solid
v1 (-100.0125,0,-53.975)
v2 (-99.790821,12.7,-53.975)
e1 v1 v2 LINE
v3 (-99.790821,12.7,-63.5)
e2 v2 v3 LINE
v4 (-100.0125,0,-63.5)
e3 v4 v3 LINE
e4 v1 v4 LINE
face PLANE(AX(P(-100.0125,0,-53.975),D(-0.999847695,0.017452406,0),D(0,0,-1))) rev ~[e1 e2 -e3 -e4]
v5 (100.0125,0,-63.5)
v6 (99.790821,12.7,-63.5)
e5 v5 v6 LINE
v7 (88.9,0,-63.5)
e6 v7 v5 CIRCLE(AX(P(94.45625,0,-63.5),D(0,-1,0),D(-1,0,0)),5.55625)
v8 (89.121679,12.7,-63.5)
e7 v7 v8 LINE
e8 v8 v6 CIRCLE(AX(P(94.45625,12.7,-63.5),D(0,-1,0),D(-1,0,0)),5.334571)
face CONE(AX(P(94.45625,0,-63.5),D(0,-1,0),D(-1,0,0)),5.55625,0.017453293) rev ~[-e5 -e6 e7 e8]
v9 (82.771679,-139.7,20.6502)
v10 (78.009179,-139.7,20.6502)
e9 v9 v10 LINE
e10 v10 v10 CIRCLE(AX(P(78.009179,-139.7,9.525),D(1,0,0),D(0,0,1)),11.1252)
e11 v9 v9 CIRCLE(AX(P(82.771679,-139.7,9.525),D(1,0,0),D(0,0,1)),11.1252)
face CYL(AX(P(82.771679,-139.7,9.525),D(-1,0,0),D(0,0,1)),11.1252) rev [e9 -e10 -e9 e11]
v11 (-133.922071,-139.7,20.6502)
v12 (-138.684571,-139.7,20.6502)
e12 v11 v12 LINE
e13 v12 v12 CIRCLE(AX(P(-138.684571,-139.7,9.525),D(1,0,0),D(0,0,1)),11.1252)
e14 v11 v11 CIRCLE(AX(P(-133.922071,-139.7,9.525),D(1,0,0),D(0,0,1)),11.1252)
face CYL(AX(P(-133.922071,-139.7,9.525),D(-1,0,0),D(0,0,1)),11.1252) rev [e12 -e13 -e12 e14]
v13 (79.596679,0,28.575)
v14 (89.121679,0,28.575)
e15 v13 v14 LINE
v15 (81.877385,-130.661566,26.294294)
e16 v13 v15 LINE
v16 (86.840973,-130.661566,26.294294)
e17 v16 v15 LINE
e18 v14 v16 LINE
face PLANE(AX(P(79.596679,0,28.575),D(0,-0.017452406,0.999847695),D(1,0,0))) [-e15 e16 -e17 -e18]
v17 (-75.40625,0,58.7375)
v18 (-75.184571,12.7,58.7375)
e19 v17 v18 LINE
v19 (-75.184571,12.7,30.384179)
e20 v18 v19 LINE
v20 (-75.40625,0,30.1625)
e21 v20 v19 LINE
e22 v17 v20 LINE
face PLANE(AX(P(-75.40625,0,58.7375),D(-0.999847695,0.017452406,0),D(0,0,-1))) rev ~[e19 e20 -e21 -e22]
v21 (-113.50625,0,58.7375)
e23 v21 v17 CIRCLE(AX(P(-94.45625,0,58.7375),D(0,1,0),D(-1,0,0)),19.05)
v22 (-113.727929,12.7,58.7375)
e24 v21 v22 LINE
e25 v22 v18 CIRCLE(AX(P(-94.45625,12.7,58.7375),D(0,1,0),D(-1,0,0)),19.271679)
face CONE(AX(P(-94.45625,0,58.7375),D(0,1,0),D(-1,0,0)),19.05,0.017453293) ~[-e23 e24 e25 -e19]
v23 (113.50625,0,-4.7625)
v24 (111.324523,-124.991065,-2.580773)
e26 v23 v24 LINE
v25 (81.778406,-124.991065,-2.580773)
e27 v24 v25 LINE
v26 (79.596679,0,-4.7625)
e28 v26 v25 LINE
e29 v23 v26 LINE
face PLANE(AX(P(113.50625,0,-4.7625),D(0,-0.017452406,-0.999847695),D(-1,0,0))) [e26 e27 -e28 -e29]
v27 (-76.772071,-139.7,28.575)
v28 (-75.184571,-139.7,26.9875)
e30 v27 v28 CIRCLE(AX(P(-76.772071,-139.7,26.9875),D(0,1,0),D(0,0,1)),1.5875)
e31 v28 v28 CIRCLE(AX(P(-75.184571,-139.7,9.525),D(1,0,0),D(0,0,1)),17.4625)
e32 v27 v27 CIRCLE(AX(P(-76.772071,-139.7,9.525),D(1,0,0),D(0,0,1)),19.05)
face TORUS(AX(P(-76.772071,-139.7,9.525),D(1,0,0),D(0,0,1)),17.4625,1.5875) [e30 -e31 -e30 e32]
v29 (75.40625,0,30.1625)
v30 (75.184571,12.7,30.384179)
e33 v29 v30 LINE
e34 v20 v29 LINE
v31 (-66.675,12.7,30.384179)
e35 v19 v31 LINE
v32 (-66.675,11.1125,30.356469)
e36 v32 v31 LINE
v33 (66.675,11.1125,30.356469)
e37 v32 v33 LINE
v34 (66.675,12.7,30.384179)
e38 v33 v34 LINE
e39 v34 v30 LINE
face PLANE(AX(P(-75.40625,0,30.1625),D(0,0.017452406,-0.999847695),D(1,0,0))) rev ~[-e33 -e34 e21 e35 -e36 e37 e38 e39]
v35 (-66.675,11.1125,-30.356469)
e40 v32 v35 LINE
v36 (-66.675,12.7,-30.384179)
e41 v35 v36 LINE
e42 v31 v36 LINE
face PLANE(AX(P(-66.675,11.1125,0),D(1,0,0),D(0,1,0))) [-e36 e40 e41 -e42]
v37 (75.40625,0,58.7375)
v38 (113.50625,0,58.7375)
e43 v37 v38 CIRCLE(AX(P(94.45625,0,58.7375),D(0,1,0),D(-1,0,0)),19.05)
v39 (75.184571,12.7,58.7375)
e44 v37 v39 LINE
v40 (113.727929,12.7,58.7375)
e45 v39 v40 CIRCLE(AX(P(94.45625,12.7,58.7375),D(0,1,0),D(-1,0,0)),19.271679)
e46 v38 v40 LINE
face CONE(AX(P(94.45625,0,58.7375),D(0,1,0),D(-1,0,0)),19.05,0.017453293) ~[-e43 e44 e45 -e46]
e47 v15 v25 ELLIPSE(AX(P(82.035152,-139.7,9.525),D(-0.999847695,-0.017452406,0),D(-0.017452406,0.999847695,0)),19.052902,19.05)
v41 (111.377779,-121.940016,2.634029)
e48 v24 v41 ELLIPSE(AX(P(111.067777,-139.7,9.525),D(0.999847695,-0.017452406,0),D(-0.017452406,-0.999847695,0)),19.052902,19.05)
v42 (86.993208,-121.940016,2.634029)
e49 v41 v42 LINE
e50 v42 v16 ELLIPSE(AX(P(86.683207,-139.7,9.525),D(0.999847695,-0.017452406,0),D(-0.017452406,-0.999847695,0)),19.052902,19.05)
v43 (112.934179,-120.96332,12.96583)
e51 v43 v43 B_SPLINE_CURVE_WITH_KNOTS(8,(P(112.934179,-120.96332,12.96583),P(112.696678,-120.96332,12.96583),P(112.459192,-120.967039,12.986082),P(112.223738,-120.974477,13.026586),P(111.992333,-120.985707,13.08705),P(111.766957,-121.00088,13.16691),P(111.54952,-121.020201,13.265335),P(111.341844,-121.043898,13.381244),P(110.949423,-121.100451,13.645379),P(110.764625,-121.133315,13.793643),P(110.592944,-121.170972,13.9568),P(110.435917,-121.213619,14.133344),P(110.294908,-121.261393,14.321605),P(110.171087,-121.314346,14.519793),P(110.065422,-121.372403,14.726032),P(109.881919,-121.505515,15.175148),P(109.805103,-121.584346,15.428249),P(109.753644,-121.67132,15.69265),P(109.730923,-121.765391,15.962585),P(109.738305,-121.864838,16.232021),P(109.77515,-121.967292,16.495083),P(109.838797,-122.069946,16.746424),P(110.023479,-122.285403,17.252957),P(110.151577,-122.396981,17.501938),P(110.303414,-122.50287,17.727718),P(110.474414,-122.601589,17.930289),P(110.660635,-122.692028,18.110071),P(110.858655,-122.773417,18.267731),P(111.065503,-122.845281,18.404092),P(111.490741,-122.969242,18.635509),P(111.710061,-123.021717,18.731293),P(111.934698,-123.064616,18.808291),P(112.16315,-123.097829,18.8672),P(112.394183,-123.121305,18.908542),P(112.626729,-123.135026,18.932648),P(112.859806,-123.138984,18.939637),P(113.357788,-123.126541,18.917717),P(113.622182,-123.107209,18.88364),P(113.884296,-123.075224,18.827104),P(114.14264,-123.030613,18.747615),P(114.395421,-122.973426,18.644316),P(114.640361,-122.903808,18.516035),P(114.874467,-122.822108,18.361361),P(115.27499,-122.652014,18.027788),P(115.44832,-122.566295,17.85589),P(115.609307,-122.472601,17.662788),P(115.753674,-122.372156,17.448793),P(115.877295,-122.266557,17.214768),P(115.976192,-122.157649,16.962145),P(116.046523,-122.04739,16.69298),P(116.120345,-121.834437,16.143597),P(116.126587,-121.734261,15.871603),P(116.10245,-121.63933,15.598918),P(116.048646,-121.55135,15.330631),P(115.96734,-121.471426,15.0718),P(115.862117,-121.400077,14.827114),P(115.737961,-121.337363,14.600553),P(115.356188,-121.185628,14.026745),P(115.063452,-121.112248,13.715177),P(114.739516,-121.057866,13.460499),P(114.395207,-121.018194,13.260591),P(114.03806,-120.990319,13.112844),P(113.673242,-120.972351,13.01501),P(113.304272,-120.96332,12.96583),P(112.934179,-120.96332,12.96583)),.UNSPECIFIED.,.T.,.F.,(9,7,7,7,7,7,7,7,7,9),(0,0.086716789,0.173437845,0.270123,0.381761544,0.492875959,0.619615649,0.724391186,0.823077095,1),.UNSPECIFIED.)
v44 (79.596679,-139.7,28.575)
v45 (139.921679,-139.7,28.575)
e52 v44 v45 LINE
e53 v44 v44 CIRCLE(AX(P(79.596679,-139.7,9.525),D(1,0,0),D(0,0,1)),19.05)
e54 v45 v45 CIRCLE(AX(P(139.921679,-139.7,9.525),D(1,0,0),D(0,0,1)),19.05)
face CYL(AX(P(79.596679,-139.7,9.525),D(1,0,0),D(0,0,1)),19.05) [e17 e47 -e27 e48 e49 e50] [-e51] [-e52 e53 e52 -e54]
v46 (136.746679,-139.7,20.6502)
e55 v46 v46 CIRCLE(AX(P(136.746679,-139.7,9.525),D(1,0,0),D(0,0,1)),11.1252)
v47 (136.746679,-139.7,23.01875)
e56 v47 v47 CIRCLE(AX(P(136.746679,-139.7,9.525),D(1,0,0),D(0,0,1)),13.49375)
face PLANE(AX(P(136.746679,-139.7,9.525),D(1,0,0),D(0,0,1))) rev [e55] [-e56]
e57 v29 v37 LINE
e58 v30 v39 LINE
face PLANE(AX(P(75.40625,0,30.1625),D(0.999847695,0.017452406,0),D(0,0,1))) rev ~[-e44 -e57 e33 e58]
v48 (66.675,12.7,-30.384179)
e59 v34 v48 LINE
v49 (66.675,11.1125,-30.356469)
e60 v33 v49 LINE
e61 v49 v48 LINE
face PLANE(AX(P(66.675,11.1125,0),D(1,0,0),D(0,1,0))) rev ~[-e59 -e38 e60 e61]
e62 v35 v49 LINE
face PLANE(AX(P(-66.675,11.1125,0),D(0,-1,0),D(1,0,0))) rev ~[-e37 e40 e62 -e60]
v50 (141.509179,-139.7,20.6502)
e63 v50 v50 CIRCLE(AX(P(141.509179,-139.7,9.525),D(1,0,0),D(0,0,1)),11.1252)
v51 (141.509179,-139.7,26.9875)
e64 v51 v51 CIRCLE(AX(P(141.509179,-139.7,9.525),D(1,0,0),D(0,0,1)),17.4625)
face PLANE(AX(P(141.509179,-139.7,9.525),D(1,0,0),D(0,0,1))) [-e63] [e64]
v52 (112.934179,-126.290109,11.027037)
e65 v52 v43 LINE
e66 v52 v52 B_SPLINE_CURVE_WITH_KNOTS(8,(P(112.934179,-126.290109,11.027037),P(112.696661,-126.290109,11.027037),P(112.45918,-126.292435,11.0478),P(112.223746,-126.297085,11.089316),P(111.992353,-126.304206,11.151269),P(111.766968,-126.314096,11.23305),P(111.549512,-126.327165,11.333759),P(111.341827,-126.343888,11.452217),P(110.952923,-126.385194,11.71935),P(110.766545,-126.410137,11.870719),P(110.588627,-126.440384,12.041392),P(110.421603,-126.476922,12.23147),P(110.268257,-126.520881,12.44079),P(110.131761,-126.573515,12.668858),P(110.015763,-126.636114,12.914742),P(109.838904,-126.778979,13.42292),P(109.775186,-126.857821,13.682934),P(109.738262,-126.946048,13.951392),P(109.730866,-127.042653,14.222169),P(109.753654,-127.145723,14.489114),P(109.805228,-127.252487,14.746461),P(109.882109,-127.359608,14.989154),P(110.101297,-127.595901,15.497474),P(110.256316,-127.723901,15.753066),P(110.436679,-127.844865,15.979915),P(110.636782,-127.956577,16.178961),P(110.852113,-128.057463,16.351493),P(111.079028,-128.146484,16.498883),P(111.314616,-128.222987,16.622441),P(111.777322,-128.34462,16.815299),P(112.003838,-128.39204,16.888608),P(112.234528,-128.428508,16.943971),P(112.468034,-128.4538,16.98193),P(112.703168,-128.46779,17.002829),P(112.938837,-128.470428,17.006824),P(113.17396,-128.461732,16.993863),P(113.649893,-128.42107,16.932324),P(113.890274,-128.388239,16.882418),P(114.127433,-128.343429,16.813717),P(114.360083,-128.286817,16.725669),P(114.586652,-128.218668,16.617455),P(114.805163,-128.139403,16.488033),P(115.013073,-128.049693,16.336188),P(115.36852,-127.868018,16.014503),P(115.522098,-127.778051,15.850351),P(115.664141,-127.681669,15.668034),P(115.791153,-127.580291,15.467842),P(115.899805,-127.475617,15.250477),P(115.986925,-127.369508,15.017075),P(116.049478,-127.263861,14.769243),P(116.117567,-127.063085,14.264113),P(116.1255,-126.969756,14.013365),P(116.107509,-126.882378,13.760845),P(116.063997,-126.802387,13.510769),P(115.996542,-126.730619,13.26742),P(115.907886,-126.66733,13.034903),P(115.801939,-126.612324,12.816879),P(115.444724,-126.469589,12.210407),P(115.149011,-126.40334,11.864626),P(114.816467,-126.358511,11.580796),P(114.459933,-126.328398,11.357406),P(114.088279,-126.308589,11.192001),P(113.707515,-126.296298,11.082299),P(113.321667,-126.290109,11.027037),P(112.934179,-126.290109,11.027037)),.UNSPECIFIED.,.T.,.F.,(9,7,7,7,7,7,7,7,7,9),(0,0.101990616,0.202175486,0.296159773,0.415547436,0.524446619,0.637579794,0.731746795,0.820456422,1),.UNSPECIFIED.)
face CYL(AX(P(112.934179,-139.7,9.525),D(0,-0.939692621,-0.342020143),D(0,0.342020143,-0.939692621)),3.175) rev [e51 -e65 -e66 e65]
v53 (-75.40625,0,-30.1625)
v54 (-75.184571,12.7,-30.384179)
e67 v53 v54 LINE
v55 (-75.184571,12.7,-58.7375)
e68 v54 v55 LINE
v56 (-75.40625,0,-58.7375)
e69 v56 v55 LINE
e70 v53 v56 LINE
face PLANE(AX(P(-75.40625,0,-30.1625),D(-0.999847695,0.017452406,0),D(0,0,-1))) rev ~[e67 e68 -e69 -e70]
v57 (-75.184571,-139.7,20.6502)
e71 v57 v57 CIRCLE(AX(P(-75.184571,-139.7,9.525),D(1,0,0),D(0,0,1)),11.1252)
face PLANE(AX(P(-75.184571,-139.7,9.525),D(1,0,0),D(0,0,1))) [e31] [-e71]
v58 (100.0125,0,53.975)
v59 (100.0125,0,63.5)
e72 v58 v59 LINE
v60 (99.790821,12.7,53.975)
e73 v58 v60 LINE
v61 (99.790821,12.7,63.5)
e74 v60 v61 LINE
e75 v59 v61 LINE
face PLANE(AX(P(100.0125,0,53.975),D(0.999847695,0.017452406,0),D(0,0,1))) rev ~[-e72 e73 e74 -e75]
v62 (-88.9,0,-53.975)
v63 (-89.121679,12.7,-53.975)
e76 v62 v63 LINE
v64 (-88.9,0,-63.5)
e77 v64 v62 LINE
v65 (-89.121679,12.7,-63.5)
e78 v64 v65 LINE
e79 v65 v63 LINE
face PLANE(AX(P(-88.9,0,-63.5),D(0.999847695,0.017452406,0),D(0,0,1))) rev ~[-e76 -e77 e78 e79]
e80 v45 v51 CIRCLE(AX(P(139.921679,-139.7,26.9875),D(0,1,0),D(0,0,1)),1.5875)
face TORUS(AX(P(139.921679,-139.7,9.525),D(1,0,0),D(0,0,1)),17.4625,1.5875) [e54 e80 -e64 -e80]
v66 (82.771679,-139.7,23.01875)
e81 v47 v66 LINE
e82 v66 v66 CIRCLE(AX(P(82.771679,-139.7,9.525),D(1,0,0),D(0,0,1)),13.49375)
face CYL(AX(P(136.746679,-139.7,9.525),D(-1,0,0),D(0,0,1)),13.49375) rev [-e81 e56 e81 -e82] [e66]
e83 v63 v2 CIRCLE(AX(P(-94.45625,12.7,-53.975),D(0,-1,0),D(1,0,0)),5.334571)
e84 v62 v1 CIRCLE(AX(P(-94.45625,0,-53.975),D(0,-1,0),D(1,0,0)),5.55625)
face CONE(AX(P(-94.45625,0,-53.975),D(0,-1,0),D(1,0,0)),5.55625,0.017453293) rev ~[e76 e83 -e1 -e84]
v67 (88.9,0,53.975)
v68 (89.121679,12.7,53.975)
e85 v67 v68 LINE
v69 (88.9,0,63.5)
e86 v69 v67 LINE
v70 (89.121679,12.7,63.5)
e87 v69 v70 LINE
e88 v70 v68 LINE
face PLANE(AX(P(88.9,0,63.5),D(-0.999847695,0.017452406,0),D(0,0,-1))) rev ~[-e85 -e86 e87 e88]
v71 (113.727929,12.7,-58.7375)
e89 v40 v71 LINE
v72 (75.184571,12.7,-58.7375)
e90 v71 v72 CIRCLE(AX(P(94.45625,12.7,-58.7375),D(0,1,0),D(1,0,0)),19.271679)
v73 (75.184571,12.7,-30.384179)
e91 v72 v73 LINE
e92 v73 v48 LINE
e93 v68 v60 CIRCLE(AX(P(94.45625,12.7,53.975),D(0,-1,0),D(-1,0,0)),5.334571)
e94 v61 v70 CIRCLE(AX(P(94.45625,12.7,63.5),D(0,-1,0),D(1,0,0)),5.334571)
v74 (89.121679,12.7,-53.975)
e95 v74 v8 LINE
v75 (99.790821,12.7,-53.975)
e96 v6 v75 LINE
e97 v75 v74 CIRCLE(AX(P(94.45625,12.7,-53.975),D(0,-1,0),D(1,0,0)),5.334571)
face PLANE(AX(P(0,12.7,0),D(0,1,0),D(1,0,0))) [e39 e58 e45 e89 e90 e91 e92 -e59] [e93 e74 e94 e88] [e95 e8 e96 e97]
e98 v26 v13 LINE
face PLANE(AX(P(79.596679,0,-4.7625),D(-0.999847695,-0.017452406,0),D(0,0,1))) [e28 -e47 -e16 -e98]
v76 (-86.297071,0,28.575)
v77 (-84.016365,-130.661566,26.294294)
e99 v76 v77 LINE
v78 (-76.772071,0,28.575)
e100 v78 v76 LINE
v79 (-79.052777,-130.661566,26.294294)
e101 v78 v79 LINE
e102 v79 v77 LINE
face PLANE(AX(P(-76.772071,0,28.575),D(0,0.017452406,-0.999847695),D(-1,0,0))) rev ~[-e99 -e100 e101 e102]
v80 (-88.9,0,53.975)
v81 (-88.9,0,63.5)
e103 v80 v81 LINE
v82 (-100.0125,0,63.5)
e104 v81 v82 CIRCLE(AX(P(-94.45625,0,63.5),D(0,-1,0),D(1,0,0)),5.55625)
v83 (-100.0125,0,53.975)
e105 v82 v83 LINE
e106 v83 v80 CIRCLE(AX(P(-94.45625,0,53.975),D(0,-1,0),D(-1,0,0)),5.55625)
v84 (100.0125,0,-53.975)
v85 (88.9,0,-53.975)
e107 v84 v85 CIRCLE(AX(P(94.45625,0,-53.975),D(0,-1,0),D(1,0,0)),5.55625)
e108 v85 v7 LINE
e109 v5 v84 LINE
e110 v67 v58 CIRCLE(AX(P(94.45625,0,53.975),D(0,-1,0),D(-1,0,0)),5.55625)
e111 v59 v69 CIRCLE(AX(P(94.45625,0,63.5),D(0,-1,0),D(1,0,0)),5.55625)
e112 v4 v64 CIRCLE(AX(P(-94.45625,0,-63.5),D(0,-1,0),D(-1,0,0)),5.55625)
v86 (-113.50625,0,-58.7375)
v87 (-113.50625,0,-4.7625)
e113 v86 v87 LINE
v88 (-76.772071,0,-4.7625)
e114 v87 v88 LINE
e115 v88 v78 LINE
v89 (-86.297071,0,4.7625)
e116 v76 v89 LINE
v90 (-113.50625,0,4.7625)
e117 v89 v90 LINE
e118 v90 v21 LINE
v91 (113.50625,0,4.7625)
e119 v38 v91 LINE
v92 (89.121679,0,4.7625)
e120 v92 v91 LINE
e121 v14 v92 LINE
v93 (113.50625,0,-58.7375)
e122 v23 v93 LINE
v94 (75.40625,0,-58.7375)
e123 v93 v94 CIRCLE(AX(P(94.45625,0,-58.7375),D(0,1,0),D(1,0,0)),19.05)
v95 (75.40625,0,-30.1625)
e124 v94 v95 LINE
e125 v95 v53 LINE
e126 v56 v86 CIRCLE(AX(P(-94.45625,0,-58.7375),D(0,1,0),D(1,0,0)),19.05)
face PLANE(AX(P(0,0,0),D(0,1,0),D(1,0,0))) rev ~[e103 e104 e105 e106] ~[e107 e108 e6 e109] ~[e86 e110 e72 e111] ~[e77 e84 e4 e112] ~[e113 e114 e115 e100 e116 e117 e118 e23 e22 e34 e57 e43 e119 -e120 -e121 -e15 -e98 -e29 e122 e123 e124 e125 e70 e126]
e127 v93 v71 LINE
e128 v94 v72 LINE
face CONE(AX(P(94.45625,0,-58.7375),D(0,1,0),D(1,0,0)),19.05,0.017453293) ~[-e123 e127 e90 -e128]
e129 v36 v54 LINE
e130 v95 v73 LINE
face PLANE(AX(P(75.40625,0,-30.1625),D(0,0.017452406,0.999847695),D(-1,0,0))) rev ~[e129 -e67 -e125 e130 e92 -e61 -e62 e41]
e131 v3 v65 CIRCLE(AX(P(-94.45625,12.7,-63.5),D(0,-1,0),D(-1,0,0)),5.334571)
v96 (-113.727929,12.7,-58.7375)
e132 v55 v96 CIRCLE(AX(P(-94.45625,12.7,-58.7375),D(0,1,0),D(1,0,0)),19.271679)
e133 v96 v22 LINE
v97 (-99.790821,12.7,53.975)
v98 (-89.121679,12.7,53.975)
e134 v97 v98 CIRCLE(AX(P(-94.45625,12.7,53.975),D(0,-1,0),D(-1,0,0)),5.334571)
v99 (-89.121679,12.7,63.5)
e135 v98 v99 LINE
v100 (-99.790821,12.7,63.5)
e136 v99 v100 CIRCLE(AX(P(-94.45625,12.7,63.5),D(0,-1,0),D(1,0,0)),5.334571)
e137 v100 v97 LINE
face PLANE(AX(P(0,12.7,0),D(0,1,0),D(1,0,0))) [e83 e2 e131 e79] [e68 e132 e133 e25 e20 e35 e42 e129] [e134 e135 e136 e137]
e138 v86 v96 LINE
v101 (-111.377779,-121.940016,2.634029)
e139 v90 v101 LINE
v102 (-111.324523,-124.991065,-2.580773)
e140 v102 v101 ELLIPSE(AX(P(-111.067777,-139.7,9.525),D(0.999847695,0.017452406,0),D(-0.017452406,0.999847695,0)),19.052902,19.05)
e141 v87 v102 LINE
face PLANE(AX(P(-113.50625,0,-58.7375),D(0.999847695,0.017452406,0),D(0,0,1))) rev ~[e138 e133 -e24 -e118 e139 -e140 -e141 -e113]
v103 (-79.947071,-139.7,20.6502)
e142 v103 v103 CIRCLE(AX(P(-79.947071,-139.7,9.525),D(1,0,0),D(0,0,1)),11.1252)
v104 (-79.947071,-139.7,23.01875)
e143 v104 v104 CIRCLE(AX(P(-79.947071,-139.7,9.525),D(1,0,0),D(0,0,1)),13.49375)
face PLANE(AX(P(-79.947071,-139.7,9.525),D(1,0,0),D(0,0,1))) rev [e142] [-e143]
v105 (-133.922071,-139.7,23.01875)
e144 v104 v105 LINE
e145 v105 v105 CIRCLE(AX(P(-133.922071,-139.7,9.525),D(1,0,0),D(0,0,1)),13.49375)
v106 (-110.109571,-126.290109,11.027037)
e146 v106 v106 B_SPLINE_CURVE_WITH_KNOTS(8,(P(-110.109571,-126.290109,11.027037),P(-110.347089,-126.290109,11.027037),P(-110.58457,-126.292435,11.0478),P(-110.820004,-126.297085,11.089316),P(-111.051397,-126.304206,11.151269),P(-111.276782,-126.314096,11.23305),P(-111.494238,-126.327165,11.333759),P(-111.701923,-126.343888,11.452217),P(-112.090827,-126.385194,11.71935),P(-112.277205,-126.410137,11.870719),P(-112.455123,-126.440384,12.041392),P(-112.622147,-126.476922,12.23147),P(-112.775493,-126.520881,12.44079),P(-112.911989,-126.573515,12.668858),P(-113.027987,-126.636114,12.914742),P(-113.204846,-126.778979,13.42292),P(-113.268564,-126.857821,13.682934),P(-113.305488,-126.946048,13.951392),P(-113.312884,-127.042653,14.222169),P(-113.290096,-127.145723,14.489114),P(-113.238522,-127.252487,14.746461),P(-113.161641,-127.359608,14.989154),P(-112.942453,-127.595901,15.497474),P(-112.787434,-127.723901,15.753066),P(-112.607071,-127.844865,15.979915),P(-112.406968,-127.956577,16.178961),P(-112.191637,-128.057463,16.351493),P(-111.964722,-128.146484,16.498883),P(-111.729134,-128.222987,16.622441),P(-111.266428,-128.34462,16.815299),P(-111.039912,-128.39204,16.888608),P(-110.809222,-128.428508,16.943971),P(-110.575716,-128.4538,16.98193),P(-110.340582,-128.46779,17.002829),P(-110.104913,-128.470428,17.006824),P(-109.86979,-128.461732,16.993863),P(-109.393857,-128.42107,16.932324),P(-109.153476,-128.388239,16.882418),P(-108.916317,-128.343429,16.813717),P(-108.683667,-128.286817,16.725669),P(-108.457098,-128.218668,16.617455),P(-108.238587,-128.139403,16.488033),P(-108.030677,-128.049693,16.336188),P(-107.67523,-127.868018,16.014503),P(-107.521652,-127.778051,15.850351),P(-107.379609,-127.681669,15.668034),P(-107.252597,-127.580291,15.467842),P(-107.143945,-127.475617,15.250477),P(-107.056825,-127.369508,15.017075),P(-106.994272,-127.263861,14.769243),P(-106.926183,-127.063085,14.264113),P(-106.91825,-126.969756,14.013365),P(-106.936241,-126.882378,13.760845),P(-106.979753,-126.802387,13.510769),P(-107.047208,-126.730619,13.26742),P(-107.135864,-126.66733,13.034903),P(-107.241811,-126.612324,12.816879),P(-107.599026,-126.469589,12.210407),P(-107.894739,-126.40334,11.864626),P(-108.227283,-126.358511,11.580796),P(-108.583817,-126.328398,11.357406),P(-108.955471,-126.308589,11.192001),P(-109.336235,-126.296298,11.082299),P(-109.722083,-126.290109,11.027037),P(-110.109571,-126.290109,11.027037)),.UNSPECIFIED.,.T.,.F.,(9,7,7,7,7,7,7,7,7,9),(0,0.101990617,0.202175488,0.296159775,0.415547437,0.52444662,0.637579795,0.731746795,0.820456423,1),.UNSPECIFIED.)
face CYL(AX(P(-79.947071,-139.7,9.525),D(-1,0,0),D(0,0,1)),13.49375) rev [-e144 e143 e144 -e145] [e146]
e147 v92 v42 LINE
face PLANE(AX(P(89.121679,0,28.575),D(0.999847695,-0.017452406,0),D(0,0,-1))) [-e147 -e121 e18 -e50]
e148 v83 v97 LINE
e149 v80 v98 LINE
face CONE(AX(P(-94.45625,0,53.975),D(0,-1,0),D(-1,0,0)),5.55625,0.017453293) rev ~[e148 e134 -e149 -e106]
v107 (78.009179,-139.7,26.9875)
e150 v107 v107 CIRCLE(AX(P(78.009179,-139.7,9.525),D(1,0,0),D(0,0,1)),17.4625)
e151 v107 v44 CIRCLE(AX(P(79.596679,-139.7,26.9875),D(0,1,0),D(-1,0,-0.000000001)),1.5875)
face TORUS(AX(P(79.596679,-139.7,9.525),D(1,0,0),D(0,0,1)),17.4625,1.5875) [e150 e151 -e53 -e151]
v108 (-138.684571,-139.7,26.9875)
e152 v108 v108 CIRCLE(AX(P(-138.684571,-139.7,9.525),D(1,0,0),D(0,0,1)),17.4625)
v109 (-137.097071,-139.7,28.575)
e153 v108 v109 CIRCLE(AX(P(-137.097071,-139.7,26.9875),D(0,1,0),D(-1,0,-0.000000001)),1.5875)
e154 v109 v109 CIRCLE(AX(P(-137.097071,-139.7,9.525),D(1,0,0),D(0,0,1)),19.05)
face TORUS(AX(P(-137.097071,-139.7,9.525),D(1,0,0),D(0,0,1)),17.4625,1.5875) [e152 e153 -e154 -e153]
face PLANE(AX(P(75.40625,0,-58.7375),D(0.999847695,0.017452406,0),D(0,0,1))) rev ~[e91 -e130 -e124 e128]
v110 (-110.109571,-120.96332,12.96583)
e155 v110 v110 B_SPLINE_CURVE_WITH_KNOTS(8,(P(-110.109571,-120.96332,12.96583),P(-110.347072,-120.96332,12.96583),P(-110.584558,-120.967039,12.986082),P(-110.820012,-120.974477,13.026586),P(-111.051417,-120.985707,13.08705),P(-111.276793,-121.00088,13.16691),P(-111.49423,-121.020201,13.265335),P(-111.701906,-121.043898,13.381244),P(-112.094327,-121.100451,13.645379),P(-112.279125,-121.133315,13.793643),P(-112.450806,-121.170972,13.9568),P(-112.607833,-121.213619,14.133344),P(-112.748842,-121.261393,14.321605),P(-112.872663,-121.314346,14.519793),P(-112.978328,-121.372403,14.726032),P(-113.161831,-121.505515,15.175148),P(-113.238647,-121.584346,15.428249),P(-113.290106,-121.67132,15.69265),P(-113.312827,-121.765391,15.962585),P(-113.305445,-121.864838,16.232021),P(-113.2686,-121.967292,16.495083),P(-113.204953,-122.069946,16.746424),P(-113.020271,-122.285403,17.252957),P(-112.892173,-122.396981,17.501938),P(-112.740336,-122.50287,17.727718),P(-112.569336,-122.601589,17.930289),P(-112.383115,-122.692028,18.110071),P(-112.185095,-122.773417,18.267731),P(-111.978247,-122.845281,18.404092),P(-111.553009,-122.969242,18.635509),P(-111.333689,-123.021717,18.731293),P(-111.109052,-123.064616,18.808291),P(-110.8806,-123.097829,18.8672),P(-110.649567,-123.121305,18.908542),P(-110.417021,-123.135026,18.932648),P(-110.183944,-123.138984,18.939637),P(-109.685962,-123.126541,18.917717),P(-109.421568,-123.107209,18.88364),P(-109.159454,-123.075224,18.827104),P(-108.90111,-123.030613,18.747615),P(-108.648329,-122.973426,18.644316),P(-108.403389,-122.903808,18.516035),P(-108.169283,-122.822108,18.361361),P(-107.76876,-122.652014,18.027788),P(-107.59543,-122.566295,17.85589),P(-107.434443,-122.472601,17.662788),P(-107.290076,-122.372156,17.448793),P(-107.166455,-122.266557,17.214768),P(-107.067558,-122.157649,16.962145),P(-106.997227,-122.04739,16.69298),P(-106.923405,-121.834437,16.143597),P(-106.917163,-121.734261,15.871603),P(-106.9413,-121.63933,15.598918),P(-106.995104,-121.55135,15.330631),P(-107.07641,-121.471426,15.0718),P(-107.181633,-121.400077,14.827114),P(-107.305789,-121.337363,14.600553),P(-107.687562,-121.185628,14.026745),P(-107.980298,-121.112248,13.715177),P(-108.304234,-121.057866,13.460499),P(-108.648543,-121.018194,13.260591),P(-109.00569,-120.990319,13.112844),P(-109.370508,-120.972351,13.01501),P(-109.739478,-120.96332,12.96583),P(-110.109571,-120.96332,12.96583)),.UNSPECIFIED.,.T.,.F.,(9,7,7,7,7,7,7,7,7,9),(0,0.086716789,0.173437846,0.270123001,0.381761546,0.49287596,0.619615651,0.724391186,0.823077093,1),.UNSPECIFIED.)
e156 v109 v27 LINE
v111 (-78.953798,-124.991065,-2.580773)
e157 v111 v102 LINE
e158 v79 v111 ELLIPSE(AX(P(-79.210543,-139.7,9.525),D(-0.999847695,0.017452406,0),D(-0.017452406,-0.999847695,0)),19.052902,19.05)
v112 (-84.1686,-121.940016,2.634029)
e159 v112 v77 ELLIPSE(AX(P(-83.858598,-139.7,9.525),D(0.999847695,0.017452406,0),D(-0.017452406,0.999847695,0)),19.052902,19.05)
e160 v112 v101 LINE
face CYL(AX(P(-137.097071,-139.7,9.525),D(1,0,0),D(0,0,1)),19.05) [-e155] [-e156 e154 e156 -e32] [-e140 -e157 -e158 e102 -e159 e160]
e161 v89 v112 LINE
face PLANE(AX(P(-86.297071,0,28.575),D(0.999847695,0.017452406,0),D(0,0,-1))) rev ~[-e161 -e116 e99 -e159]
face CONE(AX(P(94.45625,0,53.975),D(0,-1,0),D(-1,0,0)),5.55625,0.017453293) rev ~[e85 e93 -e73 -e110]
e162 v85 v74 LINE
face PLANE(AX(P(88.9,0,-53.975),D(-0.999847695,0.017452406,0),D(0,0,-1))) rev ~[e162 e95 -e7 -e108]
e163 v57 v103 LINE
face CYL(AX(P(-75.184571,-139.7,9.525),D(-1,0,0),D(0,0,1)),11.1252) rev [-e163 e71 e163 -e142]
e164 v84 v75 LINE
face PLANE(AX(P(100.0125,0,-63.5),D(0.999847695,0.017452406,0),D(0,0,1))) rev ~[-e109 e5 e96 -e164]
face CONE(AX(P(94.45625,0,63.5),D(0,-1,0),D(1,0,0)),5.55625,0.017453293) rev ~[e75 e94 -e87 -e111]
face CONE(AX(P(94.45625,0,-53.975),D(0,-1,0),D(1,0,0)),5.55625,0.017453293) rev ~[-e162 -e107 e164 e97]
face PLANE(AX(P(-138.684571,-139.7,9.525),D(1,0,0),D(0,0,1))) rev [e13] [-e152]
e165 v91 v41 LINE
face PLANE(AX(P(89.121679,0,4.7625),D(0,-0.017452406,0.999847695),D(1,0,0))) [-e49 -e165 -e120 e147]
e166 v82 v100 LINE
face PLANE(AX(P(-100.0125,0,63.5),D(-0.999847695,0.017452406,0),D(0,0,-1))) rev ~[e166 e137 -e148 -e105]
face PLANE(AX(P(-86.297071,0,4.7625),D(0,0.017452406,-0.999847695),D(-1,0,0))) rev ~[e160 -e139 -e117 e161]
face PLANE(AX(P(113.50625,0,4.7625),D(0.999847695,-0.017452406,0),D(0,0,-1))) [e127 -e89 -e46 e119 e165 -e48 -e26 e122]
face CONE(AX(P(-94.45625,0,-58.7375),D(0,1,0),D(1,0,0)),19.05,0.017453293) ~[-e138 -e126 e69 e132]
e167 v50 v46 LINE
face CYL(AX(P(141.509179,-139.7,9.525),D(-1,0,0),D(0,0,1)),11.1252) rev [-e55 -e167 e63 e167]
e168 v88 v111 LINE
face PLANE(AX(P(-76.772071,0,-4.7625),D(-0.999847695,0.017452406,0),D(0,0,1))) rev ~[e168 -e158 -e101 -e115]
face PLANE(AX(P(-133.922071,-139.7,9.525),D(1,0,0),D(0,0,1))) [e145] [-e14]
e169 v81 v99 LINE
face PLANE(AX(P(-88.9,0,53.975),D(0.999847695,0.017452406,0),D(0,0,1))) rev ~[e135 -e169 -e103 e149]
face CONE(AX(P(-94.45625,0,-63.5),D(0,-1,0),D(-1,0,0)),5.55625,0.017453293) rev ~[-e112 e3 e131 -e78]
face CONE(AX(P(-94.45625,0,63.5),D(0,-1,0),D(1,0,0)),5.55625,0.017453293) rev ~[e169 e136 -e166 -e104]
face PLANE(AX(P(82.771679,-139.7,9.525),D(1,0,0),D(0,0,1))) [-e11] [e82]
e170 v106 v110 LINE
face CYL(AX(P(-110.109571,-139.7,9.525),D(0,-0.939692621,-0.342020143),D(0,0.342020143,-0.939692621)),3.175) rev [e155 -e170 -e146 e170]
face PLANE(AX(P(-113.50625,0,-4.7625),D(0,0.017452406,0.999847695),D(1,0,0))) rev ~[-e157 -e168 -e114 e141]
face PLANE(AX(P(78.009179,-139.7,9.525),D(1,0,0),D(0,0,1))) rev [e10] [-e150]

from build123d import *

# Parameters (mm, degrees)
BOSS_EXTRUDE1_DEPTH      = 12.7
BOSS_EXTRUDE1_DRAFT      = -1
SKETCH8_W                = 66.675
SKETCH8_H                = 1.5875
CUT_EXTRUDE1_DEPTH       = 139.494635157
CUT_EXTRUDE1_DEPTH_BACK  = 139.494635157
CUT_EXTRUDE3_REACH       = 227.639
CUT_EXTRUDE3_END_RADIUS  = 19.05
SKETCH9_R                = 3.175
BOSS_EXTRUDE2_REACH      = 228.521
BOSS_EXTRUDE2_END_RADIUS = 19.05
BOSS_EXTRUDE2_DRAFT      = 1


with BuildPart() as part:
    # Sketch2 → Boss-Extrude1 (with draft: the straight prism first)
    with BuildSketch(Plane(origin=(0, 0, 0), x_dir=(1, 0, 0), z_dir=(0, 1, 0))):
        with BuildLine():
            Line((-113.50625, 58.7375), (-113.50625, -58.7375))
            ThreePointArc((-113.50625, -58.7375), (-94.45625, -77.7875), (-75.40625, -58.7375))
            Line((-75.40625, -58.7375), (-75.40625, -30.1625))
            Line((-75.40625, -30.1625), (75.40625, -30.1625))
            Line((75.40625, -30.1625), (75.40625, -58.7375))
            ThreePointArc((75.40625, -58.7375), (94.45625, -77.7875), (113.50625, -58.7375))
            Line((113.50625, -58.7375), (113.50625, 58.7375))
            ThreePointArc((113.50625, 58.7375), (94.45625, 77.7875), (75.40625, 58.7375))
            Line((75.40625, 58.7375), (75.40625, 30.1625))
            Line((75.40625, 30.1625), (-75.40625, 30.1625))
            Line((-75.40625, 30.1625), (-75.40625, 58.7375))
            ThreePointArc((-75.40625, 58.7375), (-94.45625, 77.7875), (-113.50625, 58.7375))
        make_face()
        with BuildLine():
            ThreePointArc((-88.9, -63.5), (-94.45625, -69.05625), (-100.0125, -63.5))
            Line((-100.0125, -63.5), (-100.0125, -53.975))
            ThreePointArc((-100.0125, -53.975), (-94.45625, -48.41875), (-88.9, -53.975))
            Line((-88.9, -53.975), (-88.9, -63.5))
        make_face(mode=Mode.SUBTRACT)
        with BuildLine():
            Line((-100.0125, 53.975), (-100.0125, 63.5))
            ThreePointArc((-100.0125, 63.5), (-94.45625, 69.05625), (-88.9, 63.5))
            Line((-88.9, 63.5), (-88.9, 53.975))
            ThreePointArc((-88.9, 53.975), (-94.45625, 48.41875), (-100.0125, 53.975))
        make_face(mode=Mode.SUBTRACT)
        with BuildLine():
            Line((100.0125, 63.5), (100.0125, 53.975))
            ThreePointArc((100.0125, 53.975), (94.45625, 48.41875), (88.9, 53.975))
            Line((88.9, 53.975), (88.9, 63.5))
            ThreePointArc((88.9, 63.5), (94.45625, 69.05625), (100.0125, 63.5))
        make_face(mode=Mode.SUBTRACT)
        with BuildLine():
            Line((100.0125, -53.975), (100.0125, -63.5))
            ThreePointArc((100.0125, -63.5), (94.45625, -69.05625), (88.9, -63.5))
            Line((88.9, -63.5), (88.9, -53.975))
            ThreePointArc((88.9, -53.975), (94.45625, -48.41875), (100.0125, -53.975))
        make_face(mode=Mode.SUBTRACT)
    extrude(amount=BOSS_EXTRUDE1_DEPTH)
    # Boss-Extrude1: the draft: its side faces are tilted about the plane it starts from
    boss_extrude1_sides = [part.faces().sort_by_distance(p)[0] for p in [
        (-113.50625, 6.35, 0),
        (-94.45625, 6.35, 77.7875),
        (-75.40625, 6.35, 44.45),
        (0, 6.35, 30.1625),
        (75.40625, 6.35, 44.45),
        (94.45625, 6.35, 77.7875),
        (113.50625, 6.35, 0),
        (94.45625, 6.35, -77.7875),
        (75.40625, 6.35, -44.45),
        (0, 6.35, -30.1625),
        (-75.40625, 6.35, -44.45),
        (-94.45625, 6.35, -77.7875),
        (-94.45625, 6.35, 48.41875),
        (-88.9, 6.35, 58.7375),
        (-94.45625, 6.35, 69.05625),
        (-100.0125, 6.35, 58.7375),
        (-100.0125, 6.35, -58.7375),
        (-94.45625, 6.35, -69.05625),
        (-88.9, 6.35, -58.7375),
        (-94.45625, 6.35, -48.41875),
        (100.0125, 6.35, -58.7375),
        (94.45625, 6.35, -48.41875),
        (88.9, 6.35, -58.7375),
        (94.45625, 6.35, -69.05625),
        (100.0125, 6.35, 58.7375),
        (94.45625, 6.35, 69.05625),
        (88.9, 6.35, 58.7375),
        (94.45625, 6.35, 48.41875),
    ]]
    draft(boss_extrude1_sides, Plane(origin=(0, 0, 0), x_dir=(1, 0, 0), z_dir=(0, 1, 0)), BOSS_EXTRUDE1_DRAFT)

    # Sketch8 → Cut-Extrude1 (cut, two sides)
    with BuildSketch(Plane.XY) as cut_extrude1_sk:
        with Locations((-33.3375, 11.90625)):
            Rectangle(SKETCH8_W, SKETCH8_H)
        with Locations((33.3375, 11.90625)):
            Rectangle(SKETCH8_W, SKETCH8_H)
    extrude(amount=CUT_EXTRUDE1_DEPTH, mode=Mode.SUBTRACT)
    extrude(cut_extrude1_sk.sketch, amount=-CUT_EXTRUDE1_DEPTH_BACK, mode=Mode.SUBTRACT)



with BuildPart() as body_2:
    # Sketch5 → Revolve2 (revolve)
    with BuildSketch(Plane.XY.offset(9.525), mode=Mode.PRIVATE) as revolve2_sk:
        with BuildLine():
            Line((141.509179325, -122.2375), (141.509179325, -128.5748))
            Line((141.509179325, -128.5748), (136.746679325, -128.5748))
            Line((136.746679325, -128.5748), (136.746679325, -126.20625))
            Line((136.746679325, -126.20625), (82.771679325, -126.20625))
            Line((82.771679325, -126.20625), (82.771679325, -128.5748))
            Line((82.771679325, -128.5748), (78.009179325, -128.5748))
            Line((78.009179325, -128.5748), (78.009179325, -122.2375))
            ThreePointArc((78.009179325, -122.2375), (78.474147309, -121.114967985), (79.596679325, -120.65))
            Line((79.596679325, -120.65), (139.921679325, -120.65))
            ThreePointArc((139.921679325, -120.65), (141.04421134, -121.114967985), (141.509179325, -122.2375))
        make_face()
        with BuildLine():
            Line((-138.684570675, -128.5748), (-138.684570675, -122.2375))
            ThreePointArc((-138.684570675, -122.2375), (-138.219602691, -121.114967985), (-137.097070675, -120.65))
            Line((-137.097070675, -120.65), (-76.772070675, -120.65))
            ThreePointArc((-76.772070675, -120.65), (-75.64953866, -121.114967985), (-75.184570675, -122.2375))
            Line((-75.184570675, -122.2375), (-75.184570675, -128.5748))
            Line((-75.184570675, -128.5748), (-79.947070675, -128.5748))
            Line((-79.947070675, -128.5748), (-79.947070675, -126.20625))
            Line((-79.947070675, -126.20625), (-133.922070675, -126.20625))
            Line((-133.922070675, -126.20625), (-133.922070675, -128.5748))
            Line((-133.922070675, -128.5748), (-138.684570675, -128.5748))
        make_face()
    revolve(revolve2_sk.sketch.rotate(Axis((-113.50625, -139.7, 9.525), (1, 0, 0)), 90), axis=Axis((-113.50625, -139.7, 9.525), (1, 0, 0)))

    # Cut-Extrude3: up to this cylinder (the profile starts inside it)
    cut_extrude3_end = Plane(origin=(1.412304, -139.7, 9.525), z_dir=(-1, 0, 0)) * Cylinder(CUT_EXTRUDE3_END_RADIUS, 717.42175, mode=Mode.PRIVATE)
    # Sketch9 → Cut-Extrude3 (cut, up to the surface)
    with BuildSketch(Plane(origin=(0, -139.7, 9.525), x_dir=(1, 0, 0), z_dir=(0, 0.9396926207859079, 0.3420201433256704)), mode=Mode.PRIVATE) as cut_extrude3_sk1:
        with Locations(Location((-110.109570675, 0, 0), (0, 0, 90))):
            Circle(SKETCH9_R)
    cut_extrude3_tool1 = extrude(cut_extrude3_sk1.sketch, amount=CUT_EXTRUDE3_REACH, mode=Mode.PRIVATE) & cut_extrude3_end
    add(cut_extrude3_tool1.solids().sort_by_distance((-110.109571, -139.7, 9.525))[0], mode=Mode.SUBTRACT)
    # Sketch9 → Cut-Extrude3 (cut, up to the surface)
    with BuildSketch(Plane(origin=(0, -139.7, 9.525), x_dir=(1, 0, 0), z_dir=(0, 0.9396926207859079, 0.3420201433256704)), mode=Mode.PRIVATE) as cut_extrude3_sk2:
        with Locations(Location((112.934179325, 0, 0), (0, 0, 90))):
            Circle(SKETCH9_R)
    cut_extrude3_tool2 = extrude(cut_extrude3_sk2.sketch, amount=CUT_EXTRUDE3_REACH, mode=Mode.PRIVATE) & cut_extrude3_end
    add(cut_extrude3_tool2.solids().sort_by_distance((112.934179, -139.7, 9.525))[0], mode=Mode.SUBTRACT)


with BuildPart() as part_1:
    add(part.part)

    add(body_2.part)  # Boss-Extrude2 merges body 2
    # Boss-Extrude2: up to this cylinder (the profile starts outside it)
    boss_extrude2_end = Plane(origin=(8.945782, -139.7, 9.525), z_dir=(-1, 0, 0)) * Cylinder(BOSS_EXTRUDE2_END_RADIUS, 704.311884, mode=Mode.PRIVATE)



with BuildPart() as boss_extrude2_long_prism_1:
    # Sketch6 → Boss-Extrude2 (the long prism of profile 1, to be tilted and cut off)
    with BuildSketch(Plane(origin=(0, 0, 0), x_dir=(-1, 0, 0), z_dir=(0, -1, 0))):
        Polygon((113.50625, 4.7625), (76.772070675, 4.7625), (76.772070675, -28.575), (86.297070675, -28.575), (86.297070675, -4.7625), (113.50625, -4.7625), align=None)
    extrude(amount=BOSS_EXTRUDE2_REACH)
    boss_extrude2_tool1_sides = [boss_extrude2_long_prism_1.faces().sort_by_distance(p)[0] for p in [
        (-95.139160338, -114.2605, -4.7625),
        (-76.772070675, -114.2605, 11.90625),
        (-81.534570675, -114.2605, 28.575),
        (-86.297070675, -114.2605, 16.66875),
        (-99.901660338, -114.2605, 4.7625),
        (-113.50625, -114.2605, 0),
    ]]
    draft(boss_extrude2_tool1_sides, Plane(origin=(0, 0, 0), x_dir=(-1, 0, 0), z_dir=(0, -1, 0)), BOSS_EXTRUDE2_DRAFT)  # the draft: side faces tilted about the start plane


with BuildPart() as part_2:
    add(part_1.part)
    boss_extrude2_tool1 = boss_extrude2_long_prism_1.part - boss_extrude2_end
    add(boss_extrude2_tool1.solids().sort_by_distance((-95.13916, 0, -4.266437))[0])



with BuildPart() as boss_extrude2_long_prism_2:
    # Sketch6 → Boss-Extrude2 (the long prism of profile 2, to be tilted and cut off)
    with BuildSketch(Plane(origin=(0, 0, 0), x_dir=(-1, 0, 0), z_dir=(0, -1, 0))):
        Polygon((-113.50625, -4.7625), (-113.50625, 4.7625), (-79.596679325, 4.7625), (-79.596679325, -28.575), (-89.121679325, -28.575), (-89.121679325, -4.7625), align=None)
    extrude(amount=BOSS_EXTRUDE2_REACH)
    boss_extrude2_tool2_sides = [boss_extrude2_long_prism_2.faces().sort_by_distance(p)[0] for p in [
        (113.50625, -114.2605, 0),
        (96.551464662, -114.2605, -4.7625),
        (79.596679325, -114.2605, 11.90625),
        (84.359179325, -114.2605, 28.575),
        (89.121679325, -114.2605, 16.66875),
        (101.313964662, -114.2605, 4.7625),
    ]]
    draft(boss_extrude2_tool2_sides, Plane(origin=(0, 0, 0), x_dir=(-1, 0, 0), z_dir=(0, -1, 0)), BOSS_EXTRUDE2_DRAFT)  # the draft: side faces tilted about the start plane


with BuildPart() as part_3:
    add(part_2.part)
    boss_extrude2_tool2 = boss_extrude2_long_prism_2.part - boss_extrude2_end
    add(boss_extrude2_tool2.solids().sort_by_distance((113.030724, 0, 0))[0])


solid = part_3.part
